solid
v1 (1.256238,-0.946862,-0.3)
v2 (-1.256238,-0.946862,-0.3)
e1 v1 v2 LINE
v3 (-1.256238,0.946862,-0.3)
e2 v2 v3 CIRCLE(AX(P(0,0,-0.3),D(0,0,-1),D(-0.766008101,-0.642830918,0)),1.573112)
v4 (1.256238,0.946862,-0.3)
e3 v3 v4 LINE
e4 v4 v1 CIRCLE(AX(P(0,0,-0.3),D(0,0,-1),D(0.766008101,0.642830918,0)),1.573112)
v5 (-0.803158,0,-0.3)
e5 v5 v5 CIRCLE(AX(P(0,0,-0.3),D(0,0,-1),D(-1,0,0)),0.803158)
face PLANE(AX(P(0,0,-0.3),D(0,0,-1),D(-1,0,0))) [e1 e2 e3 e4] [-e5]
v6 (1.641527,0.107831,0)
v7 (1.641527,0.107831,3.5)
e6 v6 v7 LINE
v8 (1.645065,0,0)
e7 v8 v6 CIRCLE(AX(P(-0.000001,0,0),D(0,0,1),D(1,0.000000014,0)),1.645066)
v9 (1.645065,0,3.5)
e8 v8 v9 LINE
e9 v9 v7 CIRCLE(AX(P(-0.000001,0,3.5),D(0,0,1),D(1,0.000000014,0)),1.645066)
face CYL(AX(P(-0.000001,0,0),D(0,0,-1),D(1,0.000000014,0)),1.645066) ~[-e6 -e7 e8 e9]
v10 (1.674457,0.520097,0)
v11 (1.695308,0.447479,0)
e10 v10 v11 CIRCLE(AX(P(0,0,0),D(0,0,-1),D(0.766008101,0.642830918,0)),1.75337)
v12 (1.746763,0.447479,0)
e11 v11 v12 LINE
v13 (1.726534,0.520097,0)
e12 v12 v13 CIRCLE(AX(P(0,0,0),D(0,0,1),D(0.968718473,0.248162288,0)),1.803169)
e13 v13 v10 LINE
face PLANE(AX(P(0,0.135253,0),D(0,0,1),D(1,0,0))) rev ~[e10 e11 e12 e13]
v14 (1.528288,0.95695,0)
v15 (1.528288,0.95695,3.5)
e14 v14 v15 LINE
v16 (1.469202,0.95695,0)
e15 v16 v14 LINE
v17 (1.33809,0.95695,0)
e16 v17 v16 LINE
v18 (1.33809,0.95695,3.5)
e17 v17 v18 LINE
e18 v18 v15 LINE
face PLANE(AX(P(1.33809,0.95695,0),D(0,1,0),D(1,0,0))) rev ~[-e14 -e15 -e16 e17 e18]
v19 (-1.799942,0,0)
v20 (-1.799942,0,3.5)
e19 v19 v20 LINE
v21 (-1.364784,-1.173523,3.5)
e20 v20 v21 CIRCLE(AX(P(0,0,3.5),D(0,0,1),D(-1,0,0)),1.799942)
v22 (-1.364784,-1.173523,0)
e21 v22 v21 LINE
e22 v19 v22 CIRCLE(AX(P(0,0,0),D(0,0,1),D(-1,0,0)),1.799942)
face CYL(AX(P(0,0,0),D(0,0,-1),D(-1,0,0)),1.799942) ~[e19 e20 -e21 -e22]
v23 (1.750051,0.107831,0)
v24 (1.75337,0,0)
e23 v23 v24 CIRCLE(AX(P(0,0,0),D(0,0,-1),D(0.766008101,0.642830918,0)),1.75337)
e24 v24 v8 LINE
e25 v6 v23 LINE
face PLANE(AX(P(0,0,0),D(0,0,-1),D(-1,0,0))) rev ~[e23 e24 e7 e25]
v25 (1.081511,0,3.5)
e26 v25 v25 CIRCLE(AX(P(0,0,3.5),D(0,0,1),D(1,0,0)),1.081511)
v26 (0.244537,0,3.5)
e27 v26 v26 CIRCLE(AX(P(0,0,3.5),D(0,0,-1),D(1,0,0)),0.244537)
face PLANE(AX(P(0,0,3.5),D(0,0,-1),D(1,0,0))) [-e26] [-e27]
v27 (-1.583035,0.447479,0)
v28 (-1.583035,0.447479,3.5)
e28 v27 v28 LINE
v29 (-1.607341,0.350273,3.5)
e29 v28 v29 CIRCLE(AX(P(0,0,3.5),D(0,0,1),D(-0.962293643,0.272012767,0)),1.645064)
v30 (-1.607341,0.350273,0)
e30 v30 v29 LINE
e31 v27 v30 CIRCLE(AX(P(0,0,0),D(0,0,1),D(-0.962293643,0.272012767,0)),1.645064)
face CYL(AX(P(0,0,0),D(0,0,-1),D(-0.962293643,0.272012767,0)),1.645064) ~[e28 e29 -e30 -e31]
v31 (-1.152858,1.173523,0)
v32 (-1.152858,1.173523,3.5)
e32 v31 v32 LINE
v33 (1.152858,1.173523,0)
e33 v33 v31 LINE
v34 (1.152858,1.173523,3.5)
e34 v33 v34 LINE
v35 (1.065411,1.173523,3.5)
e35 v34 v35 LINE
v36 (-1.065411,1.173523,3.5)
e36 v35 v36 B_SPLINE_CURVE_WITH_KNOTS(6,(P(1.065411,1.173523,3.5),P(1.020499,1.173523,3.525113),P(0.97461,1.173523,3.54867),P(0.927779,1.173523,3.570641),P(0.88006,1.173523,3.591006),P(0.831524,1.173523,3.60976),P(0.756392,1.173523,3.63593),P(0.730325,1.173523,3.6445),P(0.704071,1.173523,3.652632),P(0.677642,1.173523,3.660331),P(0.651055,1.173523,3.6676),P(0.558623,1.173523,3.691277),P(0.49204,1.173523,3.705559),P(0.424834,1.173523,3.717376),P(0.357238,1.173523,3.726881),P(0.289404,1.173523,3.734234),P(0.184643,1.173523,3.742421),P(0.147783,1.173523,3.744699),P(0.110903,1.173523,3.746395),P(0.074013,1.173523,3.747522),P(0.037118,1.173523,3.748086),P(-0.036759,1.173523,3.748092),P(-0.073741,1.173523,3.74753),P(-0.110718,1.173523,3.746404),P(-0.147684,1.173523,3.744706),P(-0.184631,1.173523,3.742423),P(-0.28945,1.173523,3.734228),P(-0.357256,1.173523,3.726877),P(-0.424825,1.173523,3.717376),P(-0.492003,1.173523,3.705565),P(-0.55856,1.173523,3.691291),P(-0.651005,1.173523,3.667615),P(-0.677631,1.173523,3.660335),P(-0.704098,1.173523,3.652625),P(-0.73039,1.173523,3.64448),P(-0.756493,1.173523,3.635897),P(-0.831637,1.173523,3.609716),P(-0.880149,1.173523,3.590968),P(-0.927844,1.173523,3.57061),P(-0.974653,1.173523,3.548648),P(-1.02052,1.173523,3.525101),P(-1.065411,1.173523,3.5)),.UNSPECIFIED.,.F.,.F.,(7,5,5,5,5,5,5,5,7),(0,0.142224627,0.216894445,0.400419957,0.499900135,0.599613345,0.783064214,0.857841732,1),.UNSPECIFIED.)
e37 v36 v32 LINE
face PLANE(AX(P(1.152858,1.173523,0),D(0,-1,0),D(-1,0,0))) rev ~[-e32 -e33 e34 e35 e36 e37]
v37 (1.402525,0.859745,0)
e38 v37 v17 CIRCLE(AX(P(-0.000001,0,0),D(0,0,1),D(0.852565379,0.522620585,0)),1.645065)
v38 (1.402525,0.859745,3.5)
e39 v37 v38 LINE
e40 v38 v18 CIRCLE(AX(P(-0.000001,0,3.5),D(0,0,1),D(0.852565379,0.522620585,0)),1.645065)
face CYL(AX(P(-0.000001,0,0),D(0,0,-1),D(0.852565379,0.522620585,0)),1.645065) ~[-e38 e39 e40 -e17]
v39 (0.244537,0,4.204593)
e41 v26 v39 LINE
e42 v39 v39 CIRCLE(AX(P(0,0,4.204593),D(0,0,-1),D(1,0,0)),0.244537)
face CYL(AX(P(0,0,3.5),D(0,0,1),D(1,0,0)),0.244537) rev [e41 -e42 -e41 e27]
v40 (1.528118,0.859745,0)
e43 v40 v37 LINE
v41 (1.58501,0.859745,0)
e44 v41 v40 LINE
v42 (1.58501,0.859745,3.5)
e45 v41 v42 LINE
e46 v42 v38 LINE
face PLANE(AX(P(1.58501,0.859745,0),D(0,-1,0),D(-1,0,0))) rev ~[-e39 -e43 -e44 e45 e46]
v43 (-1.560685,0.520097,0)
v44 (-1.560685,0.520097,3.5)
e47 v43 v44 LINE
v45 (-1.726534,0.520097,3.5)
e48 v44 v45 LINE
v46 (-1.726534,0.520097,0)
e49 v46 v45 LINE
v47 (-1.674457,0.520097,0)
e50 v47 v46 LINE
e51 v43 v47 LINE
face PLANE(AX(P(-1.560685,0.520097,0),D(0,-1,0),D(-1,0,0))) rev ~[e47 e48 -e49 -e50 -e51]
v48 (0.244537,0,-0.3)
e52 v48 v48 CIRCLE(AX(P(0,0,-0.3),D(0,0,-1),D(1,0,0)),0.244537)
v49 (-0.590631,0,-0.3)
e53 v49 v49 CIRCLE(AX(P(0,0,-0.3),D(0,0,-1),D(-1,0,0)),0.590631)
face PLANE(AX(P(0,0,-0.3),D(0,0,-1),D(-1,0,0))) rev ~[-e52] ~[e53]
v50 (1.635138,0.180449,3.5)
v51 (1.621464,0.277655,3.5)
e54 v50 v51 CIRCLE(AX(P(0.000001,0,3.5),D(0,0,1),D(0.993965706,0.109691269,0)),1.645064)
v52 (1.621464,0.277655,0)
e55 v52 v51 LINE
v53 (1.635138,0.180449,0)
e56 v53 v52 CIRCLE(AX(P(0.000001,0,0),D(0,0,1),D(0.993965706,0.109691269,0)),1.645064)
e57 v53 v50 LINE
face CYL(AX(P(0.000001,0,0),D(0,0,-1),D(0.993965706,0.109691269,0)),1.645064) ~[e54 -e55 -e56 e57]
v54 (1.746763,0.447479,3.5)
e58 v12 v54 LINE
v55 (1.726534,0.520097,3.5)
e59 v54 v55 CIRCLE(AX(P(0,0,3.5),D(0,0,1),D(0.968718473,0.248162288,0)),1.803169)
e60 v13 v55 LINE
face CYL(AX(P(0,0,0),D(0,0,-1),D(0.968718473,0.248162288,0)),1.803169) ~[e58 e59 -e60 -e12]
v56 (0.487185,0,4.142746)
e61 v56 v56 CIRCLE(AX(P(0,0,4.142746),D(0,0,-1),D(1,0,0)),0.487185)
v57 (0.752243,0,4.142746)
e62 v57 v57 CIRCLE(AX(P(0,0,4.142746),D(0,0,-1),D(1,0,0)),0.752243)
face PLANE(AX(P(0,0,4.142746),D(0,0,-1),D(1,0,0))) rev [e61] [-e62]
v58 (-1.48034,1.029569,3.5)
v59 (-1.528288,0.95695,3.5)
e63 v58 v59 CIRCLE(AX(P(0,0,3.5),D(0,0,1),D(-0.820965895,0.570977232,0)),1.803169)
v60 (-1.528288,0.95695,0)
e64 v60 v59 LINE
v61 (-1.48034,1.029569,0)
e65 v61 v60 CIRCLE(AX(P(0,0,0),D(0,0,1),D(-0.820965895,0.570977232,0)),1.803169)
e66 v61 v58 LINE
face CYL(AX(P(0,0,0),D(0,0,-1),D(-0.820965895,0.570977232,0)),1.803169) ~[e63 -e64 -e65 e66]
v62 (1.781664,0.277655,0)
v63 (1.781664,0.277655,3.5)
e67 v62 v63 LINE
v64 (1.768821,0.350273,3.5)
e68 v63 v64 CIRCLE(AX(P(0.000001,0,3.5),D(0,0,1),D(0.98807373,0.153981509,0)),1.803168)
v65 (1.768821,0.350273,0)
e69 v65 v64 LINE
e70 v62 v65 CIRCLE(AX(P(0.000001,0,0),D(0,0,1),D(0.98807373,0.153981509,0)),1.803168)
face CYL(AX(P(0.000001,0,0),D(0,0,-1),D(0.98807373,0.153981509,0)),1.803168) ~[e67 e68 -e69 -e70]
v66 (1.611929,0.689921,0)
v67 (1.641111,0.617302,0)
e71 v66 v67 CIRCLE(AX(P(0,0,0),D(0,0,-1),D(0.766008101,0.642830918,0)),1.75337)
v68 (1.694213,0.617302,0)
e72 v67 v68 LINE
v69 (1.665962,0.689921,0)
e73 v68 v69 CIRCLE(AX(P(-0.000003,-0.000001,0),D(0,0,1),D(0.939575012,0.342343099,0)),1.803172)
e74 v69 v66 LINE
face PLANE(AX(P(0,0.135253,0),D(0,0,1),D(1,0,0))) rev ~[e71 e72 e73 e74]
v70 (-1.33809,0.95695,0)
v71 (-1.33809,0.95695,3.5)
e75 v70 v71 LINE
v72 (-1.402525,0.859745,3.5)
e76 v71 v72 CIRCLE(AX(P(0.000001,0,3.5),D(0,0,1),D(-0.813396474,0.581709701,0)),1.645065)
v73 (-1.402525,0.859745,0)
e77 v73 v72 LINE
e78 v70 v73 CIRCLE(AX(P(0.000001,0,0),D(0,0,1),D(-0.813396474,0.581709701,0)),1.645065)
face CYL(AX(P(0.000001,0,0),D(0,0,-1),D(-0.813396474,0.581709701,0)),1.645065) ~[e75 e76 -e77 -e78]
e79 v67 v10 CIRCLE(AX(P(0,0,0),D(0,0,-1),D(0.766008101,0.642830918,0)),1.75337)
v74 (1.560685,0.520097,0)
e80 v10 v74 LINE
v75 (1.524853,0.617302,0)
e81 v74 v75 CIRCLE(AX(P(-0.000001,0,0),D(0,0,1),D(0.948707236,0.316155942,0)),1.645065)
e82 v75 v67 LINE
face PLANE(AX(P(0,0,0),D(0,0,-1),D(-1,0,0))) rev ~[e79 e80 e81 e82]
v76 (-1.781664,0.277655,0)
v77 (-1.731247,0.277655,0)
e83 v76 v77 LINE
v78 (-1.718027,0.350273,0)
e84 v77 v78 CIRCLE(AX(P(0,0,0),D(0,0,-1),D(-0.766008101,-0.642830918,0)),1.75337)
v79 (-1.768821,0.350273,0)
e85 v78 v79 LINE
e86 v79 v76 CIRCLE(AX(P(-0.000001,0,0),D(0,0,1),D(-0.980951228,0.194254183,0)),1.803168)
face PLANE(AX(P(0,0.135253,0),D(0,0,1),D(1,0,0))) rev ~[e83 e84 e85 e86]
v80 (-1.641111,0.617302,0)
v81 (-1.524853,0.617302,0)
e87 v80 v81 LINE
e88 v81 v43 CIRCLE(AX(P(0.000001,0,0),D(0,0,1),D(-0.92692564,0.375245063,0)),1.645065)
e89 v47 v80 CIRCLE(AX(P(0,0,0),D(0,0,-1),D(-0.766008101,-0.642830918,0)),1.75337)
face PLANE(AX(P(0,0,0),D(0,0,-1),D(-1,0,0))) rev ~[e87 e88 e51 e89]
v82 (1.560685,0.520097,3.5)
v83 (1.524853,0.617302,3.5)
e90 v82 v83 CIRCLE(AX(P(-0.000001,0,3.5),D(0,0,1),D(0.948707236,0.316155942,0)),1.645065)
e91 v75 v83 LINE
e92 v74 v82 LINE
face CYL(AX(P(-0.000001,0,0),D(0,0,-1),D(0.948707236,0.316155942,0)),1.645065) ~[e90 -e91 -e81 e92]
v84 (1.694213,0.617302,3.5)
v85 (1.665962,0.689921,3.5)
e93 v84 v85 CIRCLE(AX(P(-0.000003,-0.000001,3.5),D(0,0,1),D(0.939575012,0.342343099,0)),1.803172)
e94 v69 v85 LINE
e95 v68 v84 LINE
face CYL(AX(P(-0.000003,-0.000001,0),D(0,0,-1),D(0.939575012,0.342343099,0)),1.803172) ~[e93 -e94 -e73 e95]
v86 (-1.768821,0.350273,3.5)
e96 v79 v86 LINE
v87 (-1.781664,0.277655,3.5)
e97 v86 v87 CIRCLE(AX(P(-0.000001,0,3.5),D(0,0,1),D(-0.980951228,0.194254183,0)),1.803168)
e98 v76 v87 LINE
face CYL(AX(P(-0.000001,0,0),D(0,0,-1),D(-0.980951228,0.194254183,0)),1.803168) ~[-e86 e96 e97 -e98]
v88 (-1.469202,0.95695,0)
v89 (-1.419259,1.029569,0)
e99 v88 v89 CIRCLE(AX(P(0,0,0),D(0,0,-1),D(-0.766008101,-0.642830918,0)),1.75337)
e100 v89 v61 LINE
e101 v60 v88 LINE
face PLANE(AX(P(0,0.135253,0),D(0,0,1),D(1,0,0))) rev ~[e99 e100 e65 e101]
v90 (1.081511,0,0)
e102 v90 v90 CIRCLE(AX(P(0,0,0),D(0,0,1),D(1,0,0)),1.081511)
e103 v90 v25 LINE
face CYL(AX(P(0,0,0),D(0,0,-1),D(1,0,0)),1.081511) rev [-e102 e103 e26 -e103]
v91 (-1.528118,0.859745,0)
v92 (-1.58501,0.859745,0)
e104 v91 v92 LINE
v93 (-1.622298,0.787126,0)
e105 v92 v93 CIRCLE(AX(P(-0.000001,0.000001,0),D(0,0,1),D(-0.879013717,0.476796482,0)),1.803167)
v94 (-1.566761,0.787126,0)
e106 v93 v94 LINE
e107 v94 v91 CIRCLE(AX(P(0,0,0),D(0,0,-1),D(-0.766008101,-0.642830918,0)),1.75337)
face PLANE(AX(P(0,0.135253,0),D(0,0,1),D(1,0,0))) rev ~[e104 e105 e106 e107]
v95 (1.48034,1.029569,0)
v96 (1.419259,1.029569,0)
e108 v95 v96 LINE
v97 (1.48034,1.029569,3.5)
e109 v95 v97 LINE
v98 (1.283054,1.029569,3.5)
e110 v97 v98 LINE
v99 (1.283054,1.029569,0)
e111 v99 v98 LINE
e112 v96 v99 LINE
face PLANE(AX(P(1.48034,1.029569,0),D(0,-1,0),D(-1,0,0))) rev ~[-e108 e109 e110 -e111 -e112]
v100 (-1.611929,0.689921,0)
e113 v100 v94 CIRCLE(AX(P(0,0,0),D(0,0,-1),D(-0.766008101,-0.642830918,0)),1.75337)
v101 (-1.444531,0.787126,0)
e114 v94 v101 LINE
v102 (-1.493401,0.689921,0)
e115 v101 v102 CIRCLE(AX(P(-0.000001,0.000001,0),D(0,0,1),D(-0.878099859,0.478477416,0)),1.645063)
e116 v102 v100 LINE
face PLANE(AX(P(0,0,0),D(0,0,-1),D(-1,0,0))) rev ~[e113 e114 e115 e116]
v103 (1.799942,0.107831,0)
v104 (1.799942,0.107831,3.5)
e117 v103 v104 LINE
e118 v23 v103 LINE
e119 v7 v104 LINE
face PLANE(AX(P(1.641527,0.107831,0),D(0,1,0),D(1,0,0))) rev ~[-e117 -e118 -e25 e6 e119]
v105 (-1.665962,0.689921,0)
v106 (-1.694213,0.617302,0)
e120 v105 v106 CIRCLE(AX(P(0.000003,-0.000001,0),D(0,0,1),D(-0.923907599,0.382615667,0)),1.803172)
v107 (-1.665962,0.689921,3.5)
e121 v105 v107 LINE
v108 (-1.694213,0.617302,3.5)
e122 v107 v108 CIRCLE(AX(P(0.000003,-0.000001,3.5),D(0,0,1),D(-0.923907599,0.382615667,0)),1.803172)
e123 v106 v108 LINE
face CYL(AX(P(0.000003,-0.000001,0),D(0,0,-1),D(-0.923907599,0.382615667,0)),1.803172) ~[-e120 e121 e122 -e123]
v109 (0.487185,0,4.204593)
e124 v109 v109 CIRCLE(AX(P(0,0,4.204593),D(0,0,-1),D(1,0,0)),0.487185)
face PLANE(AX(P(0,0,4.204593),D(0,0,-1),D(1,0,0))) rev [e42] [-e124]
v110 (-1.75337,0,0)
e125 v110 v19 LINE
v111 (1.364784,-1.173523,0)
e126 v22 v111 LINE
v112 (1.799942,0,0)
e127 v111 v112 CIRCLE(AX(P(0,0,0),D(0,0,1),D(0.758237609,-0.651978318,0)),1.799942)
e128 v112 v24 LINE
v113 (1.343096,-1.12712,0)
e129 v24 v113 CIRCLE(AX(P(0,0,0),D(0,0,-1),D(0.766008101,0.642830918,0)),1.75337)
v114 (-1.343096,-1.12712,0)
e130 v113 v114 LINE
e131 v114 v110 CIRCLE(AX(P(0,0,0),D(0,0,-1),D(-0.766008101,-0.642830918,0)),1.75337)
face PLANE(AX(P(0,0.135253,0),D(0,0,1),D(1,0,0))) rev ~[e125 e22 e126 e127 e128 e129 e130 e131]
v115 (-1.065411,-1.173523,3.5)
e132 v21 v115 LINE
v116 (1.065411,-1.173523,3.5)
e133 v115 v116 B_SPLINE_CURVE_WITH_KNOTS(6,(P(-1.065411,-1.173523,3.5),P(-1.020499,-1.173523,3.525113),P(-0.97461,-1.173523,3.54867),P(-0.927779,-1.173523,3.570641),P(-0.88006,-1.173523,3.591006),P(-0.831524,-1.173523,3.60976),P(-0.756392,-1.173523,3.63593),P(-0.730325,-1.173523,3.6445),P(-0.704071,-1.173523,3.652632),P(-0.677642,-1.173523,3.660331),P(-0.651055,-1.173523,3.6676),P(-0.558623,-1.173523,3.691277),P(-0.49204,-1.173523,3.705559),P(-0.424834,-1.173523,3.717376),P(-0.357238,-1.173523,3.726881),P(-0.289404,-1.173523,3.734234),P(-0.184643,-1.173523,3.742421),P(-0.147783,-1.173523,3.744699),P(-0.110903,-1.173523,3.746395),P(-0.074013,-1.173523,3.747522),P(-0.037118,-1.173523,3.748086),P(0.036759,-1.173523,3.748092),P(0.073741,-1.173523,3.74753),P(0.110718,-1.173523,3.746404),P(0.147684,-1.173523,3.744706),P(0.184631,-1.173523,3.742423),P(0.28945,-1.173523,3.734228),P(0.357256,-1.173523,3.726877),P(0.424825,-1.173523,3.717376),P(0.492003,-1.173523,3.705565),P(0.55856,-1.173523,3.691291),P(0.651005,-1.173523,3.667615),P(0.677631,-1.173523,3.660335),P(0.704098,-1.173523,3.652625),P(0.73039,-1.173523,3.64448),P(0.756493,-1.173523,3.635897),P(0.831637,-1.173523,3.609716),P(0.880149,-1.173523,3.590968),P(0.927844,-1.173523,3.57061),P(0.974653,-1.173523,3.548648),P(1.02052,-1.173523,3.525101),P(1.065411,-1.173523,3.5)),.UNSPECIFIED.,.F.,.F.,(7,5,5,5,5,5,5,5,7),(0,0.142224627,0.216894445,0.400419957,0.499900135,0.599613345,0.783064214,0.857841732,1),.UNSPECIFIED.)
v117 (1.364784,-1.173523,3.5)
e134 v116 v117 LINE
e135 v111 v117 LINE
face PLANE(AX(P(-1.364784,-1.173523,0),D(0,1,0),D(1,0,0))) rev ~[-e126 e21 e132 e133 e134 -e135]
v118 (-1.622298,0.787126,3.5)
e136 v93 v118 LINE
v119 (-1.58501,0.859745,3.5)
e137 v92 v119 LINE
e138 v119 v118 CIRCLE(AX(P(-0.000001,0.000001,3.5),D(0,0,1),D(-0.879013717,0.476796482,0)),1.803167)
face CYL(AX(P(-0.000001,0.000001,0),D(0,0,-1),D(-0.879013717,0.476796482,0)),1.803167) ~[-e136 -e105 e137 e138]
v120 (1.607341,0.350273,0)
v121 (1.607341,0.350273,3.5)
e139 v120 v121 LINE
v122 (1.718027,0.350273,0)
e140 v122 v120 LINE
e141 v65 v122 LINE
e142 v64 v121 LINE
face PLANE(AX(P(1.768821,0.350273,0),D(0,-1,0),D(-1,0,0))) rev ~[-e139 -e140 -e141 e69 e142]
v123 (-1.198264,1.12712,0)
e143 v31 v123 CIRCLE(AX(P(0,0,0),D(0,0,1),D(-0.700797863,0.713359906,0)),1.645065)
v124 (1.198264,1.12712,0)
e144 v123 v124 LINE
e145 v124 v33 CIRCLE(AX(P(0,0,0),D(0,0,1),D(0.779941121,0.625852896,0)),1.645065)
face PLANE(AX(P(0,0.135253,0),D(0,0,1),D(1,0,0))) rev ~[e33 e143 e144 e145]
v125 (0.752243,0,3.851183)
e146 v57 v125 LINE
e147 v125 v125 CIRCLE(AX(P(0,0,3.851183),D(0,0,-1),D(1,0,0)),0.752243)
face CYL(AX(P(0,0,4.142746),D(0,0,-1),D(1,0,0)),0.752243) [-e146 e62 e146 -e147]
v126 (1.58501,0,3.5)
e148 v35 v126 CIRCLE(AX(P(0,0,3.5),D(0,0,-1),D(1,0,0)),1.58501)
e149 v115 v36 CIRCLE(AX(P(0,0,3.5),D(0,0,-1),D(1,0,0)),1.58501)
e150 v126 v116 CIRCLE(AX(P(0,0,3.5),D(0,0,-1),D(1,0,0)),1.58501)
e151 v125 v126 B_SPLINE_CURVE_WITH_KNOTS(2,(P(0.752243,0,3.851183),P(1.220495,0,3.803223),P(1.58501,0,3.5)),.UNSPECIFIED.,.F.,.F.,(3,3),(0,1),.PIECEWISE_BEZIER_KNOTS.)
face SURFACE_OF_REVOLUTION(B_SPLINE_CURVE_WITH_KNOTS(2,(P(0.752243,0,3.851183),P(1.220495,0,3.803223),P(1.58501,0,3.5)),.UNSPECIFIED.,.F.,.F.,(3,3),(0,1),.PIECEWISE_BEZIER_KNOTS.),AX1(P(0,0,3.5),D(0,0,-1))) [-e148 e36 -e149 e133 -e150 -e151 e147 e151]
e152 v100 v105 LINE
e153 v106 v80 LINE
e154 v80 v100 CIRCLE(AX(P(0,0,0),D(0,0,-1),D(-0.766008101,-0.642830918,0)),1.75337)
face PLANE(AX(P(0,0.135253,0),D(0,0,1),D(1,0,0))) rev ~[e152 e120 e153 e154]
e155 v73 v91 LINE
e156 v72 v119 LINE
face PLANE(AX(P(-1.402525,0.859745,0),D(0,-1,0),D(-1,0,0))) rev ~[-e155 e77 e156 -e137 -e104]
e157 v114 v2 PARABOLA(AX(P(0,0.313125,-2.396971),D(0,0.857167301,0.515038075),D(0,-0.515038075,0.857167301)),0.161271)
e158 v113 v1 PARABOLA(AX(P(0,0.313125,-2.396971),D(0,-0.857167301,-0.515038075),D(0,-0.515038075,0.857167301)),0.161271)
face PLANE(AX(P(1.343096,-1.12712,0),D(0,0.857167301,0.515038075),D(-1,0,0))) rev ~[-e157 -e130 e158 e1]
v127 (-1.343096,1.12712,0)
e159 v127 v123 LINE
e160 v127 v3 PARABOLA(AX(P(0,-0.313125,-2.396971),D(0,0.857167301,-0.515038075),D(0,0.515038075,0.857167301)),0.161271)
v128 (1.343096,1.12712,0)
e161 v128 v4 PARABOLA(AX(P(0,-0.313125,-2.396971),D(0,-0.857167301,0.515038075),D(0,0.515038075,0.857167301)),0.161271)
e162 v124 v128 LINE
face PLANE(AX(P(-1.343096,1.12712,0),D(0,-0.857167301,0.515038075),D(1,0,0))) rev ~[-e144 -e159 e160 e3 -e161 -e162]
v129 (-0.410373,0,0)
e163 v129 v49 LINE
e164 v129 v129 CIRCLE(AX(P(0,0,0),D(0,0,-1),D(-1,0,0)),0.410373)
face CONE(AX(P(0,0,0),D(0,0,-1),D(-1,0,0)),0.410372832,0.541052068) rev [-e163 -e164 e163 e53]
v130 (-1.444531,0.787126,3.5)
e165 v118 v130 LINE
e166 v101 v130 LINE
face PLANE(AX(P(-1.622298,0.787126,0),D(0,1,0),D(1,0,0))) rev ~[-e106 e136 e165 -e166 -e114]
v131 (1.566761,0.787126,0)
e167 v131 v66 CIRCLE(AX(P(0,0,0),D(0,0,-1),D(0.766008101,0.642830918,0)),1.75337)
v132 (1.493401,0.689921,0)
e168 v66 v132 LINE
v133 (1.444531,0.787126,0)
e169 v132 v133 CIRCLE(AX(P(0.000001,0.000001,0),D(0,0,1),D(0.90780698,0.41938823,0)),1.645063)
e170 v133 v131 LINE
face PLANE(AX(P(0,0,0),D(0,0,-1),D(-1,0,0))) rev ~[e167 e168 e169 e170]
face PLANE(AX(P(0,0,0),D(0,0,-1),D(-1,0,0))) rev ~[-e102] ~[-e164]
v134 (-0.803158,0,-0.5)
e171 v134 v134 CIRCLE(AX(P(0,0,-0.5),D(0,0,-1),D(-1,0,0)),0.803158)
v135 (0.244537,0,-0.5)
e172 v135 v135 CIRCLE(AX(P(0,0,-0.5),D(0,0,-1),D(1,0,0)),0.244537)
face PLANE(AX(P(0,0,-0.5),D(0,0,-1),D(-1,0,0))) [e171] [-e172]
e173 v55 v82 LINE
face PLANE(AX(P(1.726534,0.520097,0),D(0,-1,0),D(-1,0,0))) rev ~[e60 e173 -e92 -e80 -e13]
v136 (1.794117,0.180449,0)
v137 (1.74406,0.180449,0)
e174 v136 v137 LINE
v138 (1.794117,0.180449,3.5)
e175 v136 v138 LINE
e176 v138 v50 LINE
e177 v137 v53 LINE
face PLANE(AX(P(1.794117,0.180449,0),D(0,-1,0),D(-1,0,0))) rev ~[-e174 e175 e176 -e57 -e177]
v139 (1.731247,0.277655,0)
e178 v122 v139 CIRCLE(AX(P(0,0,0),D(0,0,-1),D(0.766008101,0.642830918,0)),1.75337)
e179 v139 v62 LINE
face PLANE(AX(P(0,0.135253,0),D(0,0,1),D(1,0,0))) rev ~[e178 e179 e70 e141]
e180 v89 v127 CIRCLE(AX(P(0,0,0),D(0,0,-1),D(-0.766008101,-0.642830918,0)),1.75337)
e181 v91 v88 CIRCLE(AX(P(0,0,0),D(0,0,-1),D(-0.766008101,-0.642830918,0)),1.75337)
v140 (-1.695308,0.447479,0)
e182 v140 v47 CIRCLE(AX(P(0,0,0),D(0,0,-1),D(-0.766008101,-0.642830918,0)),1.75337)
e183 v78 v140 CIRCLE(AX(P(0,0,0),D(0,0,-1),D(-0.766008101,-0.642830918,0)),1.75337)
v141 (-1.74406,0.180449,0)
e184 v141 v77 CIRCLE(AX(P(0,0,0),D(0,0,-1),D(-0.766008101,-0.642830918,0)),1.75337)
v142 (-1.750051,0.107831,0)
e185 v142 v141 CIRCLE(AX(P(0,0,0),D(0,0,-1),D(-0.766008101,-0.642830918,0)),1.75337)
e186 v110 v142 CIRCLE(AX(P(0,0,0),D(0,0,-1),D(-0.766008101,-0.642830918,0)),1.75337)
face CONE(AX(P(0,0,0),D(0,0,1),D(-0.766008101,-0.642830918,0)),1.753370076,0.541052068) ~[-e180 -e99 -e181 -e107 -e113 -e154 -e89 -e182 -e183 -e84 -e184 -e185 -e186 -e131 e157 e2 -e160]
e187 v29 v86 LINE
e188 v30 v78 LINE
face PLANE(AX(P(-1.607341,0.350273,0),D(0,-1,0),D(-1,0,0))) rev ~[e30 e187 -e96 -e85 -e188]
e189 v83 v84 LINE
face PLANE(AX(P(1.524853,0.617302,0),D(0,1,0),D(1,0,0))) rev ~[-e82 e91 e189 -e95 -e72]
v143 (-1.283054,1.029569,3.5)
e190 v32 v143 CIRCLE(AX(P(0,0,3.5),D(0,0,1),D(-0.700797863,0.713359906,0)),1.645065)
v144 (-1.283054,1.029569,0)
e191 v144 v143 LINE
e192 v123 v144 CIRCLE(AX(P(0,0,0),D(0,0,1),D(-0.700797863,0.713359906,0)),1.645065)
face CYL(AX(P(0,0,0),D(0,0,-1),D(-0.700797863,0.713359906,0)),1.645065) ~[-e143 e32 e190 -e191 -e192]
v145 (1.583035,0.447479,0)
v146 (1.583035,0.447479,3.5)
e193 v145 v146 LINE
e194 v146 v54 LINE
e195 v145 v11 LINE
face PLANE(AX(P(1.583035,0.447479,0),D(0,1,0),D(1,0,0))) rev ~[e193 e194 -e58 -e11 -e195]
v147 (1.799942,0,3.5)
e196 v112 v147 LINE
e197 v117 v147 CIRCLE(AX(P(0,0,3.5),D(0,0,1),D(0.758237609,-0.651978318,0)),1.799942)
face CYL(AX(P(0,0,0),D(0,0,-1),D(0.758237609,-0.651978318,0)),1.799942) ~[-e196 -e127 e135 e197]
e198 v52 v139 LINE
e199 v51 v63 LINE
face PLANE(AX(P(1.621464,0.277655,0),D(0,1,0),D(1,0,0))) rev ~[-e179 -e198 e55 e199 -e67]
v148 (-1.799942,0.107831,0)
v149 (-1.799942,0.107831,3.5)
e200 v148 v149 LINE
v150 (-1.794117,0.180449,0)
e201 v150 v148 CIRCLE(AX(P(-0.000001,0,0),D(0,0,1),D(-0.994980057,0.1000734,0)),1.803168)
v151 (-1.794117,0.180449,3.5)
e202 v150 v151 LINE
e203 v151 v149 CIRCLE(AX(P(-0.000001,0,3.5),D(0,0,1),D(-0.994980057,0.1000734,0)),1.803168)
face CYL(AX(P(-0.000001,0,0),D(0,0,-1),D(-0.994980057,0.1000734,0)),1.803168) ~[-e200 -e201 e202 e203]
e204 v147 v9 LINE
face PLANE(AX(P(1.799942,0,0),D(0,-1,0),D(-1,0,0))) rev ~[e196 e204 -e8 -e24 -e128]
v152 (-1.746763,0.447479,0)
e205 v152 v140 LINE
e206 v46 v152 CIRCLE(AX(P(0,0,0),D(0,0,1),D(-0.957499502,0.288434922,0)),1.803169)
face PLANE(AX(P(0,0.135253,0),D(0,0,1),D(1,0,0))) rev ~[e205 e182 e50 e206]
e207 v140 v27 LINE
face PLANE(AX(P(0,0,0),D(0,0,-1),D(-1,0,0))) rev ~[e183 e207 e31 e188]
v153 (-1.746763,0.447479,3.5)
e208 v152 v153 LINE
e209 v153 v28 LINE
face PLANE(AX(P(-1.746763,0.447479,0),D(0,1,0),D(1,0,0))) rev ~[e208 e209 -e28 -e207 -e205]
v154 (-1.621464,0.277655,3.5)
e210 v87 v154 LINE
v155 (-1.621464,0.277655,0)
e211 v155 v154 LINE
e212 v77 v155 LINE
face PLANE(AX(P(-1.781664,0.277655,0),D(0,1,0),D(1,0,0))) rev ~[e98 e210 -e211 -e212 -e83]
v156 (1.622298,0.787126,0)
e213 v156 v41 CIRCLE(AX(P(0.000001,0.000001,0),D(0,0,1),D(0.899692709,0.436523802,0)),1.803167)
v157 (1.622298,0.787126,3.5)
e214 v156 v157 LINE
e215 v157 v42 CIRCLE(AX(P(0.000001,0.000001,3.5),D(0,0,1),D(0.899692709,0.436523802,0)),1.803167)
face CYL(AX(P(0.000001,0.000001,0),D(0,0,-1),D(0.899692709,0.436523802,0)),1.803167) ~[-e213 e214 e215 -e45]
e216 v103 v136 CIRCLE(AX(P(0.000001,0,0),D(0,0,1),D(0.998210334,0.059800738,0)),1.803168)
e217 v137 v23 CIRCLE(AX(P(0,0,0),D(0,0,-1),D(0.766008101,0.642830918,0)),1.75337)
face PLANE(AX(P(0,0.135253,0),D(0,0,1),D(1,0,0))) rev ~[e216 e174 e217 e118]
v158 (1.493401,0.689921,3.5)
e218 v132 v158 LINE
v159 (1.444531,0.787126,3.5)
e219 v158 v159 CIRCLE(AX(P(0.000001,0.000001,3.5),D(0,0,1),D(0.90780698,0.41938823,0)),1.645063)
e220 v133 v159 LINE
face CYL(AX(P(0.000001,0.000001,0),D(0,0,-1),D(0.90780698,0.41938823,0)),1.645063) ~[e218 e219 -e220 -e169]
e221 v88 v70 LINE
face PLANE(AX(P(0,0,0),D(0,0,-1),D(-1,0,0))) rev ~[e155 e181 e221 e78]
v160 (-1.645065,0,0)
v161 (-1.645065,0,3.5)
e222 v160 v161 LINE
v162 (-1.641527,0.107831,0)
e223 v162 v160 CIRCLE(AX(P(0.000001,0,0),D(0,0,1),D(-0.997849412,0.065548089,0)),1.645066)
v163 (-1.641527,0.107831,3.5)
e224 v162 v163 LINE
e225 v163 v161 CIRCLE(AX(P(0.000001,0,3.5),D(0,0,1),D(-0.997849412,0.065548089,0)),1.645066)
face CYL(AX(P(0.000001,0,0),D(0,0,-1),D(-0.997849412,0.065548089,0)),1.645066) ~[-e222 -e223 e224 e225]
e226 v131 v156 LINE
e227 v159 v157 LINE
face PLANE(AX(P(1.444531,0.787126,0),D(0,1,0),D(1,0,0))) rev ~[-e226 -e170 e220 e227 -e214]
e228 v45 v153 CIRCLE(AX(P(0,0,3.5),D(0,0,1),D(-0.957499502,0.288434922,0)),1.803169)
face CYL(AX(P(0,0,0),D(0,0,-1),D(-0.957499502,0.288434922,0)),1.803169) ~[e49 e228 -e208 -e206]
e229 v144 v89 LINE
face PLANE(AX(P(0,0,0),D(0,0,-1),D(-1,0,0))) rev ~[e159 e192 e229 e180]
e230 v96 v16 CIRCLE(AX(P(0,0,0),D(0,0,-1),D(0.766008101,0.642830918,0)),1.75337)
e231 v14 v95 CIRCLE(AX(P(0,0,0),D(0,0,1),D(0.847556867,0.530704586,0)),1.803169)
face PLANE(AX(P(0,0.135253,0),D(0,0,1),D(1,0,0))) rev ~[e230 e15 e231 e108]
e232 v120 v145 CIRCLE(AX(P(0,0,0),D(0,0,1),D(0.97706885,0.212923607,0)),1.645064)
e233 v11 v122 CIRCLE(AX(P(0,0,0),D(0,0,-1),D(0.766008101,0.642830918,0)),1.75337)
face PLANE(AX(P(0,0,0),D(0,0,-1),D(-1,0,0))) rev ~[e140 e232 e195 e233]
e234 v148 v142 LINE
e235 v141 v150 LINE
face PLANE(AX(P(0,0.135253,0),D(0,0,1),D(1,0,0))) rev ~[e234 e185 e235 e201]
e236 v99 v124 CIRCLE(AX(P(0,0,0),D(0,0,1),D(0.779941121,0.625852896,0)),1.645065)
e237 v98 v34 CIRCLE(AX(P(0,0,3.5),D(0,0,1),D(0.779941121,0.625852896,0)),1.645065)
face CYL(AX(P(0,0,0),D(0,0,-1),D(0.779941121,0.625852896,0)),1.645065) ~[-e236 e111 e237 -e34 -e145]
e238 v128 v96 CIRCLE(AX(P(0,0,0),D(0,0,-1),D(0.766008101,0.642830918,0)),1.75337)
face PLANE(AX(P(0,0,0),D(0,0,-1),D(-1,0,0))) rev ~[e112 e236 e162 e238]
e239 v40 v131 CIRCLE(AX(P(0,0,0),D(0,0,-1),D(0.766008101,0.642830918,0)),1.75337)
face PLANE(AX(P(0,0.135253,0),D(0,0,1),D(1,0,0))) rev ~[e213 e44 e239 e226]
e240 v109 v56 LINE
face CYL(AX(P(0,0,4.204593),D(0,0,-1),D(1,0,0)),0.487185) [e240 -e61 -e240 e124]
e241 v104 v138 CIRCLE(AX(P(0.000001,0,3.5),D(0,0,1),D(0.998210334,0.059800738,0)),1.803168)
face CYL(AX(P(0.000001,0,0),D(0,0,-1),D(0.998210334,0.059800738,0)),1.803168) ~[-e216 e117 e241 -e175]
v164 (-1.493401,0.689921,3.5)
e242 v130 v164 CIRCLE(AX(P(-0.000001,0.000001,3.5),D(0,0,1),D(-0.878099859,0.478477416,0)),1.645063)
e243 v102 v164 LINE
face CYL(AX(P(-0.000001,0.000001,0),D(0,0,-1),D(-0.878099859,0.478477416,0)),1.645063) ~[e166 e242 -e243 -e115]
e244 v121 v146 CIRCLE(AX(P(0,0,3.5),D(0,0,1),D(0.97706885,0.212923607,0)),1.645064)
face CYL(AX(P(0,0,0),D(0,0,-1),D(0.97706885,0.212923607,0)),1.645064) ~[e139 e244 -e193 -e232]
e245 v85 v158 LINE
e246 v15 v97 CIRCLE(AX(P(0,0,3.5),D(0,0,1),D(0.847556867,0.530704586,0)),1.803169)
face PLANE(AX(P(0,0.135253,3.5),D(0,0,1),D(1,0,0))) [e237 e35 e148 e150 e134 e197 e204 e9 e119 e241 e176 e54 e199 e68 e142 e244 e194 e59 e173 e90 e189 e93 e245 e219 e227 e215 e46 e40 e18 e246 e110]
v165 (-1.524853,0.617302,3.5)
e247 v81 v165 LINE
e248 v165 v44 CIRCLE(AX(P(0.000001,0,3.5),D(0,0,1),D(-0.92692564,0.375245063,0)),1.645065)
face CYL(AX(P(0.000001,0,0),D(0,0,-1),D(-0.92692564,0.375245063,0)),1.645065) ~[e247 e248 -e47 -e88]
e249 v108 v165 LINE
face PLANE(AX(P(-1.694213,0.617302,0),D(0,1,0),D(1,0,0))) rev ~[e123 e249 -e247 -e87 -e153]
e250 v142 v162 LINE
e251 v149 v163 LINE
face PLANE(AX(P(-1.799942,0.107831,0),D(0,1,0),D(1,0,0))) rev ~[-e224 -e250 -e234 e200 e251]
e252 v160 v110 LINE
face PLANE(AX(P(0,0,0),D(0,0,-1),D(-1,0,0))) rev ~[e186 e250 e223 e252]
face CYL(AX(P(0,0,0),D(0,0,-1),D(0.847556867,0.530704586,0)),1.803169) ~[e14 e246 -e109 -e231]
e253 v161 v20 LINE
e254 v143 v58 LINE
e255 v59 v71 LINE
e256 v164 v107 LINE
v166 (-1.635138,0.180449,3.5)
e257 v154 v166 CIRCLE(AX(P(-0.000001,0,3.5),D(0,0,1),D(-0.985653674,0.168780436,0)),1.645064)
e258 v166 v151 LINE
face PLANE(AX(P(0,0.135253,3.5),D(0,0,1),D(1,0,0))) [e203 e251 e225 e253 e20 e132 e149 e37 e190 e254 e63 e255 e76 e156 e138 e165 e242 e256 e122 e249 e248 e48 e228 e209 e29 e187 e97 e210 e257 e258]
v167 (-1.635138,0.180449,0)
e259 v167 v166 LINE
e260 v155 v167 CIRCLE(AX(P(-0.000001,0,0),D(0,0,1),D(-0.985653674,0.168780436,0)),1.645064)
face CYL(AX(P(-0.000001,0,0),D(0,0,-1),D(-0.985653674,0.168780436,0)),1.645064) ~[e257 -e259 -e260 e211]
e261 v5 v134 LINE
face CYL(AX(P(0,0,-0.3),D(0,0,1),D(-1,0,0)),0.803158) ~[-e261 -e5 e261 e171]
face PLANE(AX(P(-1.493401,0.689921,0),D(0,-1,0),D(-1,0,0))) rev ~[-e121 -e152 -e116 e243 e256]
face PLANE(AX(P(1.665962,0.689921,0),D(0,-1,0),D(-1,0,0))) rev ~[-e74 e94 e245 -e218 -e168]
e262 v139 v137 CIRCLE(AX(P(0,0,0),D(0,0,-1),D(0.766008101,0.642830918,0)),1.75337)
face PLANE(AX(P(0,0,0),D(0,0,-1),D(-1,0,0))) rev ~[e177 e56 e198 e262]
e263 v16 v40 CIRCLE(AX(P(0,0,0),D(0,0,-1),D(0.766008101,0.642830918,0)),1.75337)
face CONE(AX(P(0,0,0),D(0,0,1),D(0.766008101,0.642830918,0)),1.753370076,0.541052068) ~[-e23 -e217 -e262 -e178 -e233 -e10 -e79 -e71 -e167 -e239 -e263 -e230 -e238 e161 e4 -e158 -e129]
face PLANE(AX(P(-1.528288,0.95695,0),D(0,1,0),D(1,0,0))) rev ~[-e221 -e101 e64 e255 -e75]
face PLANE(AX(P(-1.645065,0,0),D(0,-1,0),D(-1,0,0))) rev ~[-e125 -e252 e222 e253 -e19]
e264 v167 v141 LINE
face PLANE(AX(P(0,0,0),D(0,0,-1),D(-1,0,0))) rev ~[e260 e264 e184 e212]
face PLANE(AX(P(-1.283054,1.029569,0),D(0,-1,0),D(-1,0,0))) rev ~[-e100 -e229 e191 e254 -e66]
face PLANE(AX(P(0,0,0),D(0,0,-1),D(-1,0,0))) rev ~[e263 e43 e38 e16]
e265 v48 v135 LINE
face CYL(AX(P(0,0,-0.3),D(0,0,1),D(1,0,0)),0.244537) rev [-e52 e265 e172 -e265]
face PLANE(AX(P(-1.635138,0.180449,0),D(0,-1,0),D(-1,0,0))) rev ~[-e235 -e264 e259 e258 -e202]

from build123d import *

# Parameters (mm, degrees)
ESQUISSE1_R             = 1.081511131
BOSS_EXTRU_1_DEPTH      = 3.5
ESQUISSE3_R             = 0.410372832
BOSS_EXTRU_2_DEPTH      = 0.3
BOSS_EXTRU_2_DRAFT      = 31
ESQUISSE4_W             = 2.396874893
ESQUISSE4_H             = 0.634189101
ESQUISSE4_W_2           = 2.754584076
ESQUISSE4_H_2           = 0.575875801
ENL_V_MAT_EXTRU_1_DEPTH = 10.3
ESQUISSE5_R             = 0.803157719
ESQUISSE5_R_2           = 0.244537362
BOSS_EXTRU_3_DEPTH      = 0.2


with BuildPart() as part:
    # Esquisse1 → Boss.-Extru.1 (new body)
    with BuildSketch(Plane.XY):
        with BuildLine():
            ThreePointArc((1.283053605, 1.029568507), (1.22008068, 1.103467715), (1.152857828, 1.173523196))
            Line((1.152857828, 1.173523196), (-1.152857828, 1.173523196))
            ThreePointArc((-1.152857828, 1.173523196), (-1.22008068, 1.103467715), (-1.283053605, 1.029568507))
            Line((-1.283053605, 1.029568507), (-1.480340364, 1.029568507))
            ThreePointArc((-1.480340364, 1.029568507), (-1.5047525, 0.993548599), (-1.528288379, 0.956950122))
            Line((-1.528288379, 0.956950122), (-1.338089806, 0.956950122))
            ThreePointArc((-1.338089806, 0.956950122), (-1.371169173, 0.908918567), (-1.402525217, 0.859744659))
            Line((-1.402525217, 0.859744659), (-1.585010418, 0.859744659))
            ThreePointArc((-1.585010418, 0.859744659), (-1.604065256, 0.823646502), (-1.622298103, 0.787126273))
            Line((-1.622298103, 0.787126273), (-1.444531098, 0.787126273))
            ThreePointArc((-1.444531098, 0.787126273), (-1.469769972, 0.738927665), (-1.493401198, 0.68992081))
            Line((-1.493401198, 0.68992081), (-1.665961638, 0.68992081))
            ThreePointArc((-1.665961638, 0.68992081), (-1.680479463, 0.653764236), (-1.694212685, 0.617302425))
            Line((-1.694212685, 0.617302425), (-1.524852642, 0.617302425))
            ThreePointArc((-1.524852642, 0.617302425), (-1.543534106, 0.568981833), (-1.56068479, 0.520096962))
            Line((-1.56068479, 0.520096962), (-1.726533537, 0.520096962))
            ThreePointArc((-1.726533537, 0.520096962), (-1.737027918, 0.483893496), (-1.746763243, 0.447478576))
            Line((-1.746763243, 0.447478576), (-1.583035308, 0.447478576))
            ThreePointArc((-1.583035308, 0.447478576), (-1.595928641, 0.399060944), (-1.607341473, 0.350273113))
            Line((-1.607341473, 0.350273113), (-1.768820977, 0.350273113))
            ThreePointArc((-1.768820977, 0.350273113), (-1.775613788, 0.314029584), (-1.781664041, 0.277654728))
            Line((-1.781664041, 0.277654728), (-1.621464066, 0.277654728))
            ThreePointArc((-1.621464066, 0.277654728), (-1.629026183, 0.22915401), (-1.635137892, 0.180449265))
            Line((-1.635137892, 0.180449265), (-1.794117323, 0.180449265))
            ThreePointArc((-1.794117323, 0.180449265), (-1.797396468, 0.144169491), (-1.799942056, 0.107830879))
            Line((-1.799942056, 0.107830879), (-1.64152684, 0.107830879))
            ThreePointArc((-1.64152684, 0.107830879), (-1.644179996, 0.05394445), (-1.645064699, 0))
            Line((-1.645064699, 0), (-1.799942056, 0))
            ThreePointArc((-1.799942056, 0), (-1.687649711, -0.62580337), (-1.364783761, -1.173523196))
            Line((-1.364783761, -1.173523196), (-1.152857828, -1.173523196))
            Line((-1.152857828, -1.173523196), (0, -1.173523196))
            Line((0, -1.173523196), (1.152857828, -1.173523196))
            Line((1.152857828, -1.173523196), (1.364783761, -1.173523196))
            ThreePointArc((1.364783761, -1.173523196), (1.687649711, -0.62580337), (1.799942056, 0))
            Line((1.799942056, 0), (1.645064699, 0))
            ThreePointArc((1.645064699, 0), (1.644179996, 0.05394445), (1.64152684, 0.107830879))
            Line((1.64152684, 0.107830879), (1.799942056, 0.107830879))
            ThreePointArc((1.799942056, 0.107830879), (1.797396468, 0.144169491), (1.794117323, 0.180449265))
            Line((1.794117323, 0.180449265), (1.635137892, 0.180449265))
            ThreePointArc((1.635137892, 0.180449265), (1.629026183, 0.22915401), (1.621464066, 0.277654728))
            Line((1.621464066, 0.277654728), (1.781664041, 0.277654728))
            ThreePointArc((1.781664041, 0.277654728), (1.775613788, 0.314029584), (1.768820977, 0.350273113))
            Line((1.768820977, 0.350273113), (1.607341473, 0.350273113))
            ThreePointArc((1.607341473, 0.350273113), (1.595928641, 0.399060944), (1.583035308, 0.447478576))
            Line((1.583035308, 0.447478576), (1.746763243, 0.447478576))
            ThreePointArc((1.746763243, 0.447478576), (1.737027918, 0.483893496), (1.726533537, 0.520096962))
            Line((1.726533537, 0.520096962), (1.56068479, 0.520096962))
            ThreePointArc((1.56068479, 0.520096962), (1.543534106, 0.568981833), (1.524852642, 0.617302425))
            Line((1.524852642, 0.617302425), (1.694212685, 0.617302425))
            ThreePointArc((1.694212685, 0.617302425), (1.680479463, 0.653764236), (1.665961638, 0.68992081))
            Line((1.665961638, 0.68992081), (1.493401198, 0.68992081))
            ThreePointArc((1.493401198, 0.68992081), (1.469769972, 0.738927665), (1.444531098, 0.787126273))
            Line((1.444531098, 0.787126273), (1.622298103, 0.787126273))
            ThreePointArc((1.622298103, 0.787126273), (1.604065256, 0.823646502), (1.585010418, 0.859744659))
            Line((1.585010418, 0.859744659), (1.402525217, 0.859744659))
            ThreePointArc((1.402525217, 0.859744659), (1.371169173, 0.908918567), (1.338089806, 0.956950122))
            Line((1.338089806, 0.956950122), (1.528288379, 0.956950122))
            ThreePointArc((1.528288379, 0.956950122), (1.5047525, 0.993548599), (1.480340364, 1.029568507))
            Line((1.480340364, 1.029568507), (1.283053605, 1.029568507))
        make_face()
        Circle(ESQUISSE1_R, mode=Mode.SUBTRACT)
    extrude(amount=BOSS_EXTRU_1_DEPTH)

    # Esquisse2 → Révolution1 (revolve)
    with BuildSketch(Plane(origin=(0, 0, 0), x_dir=(1, 0, 0), z_dir=(0, 1, 0))):
        with BuildLine():
            Line((1.585010418, -3.5), (0.244537362, -3.5))
            Line((0.244537362, -3.5), (0.244537362, -4.204593095))
            Line((0.244537362, -4.204593095), (0.487185346, -4.204593095))
            Line((0.487185346, -4.204593095), (0.487185346, -4.142746313))
            Line((0.487185346, -4.142746313), (0.752242982, -4.142746313))
            Line((0.752242982, -4.142746313), (0.752242982, -3.851182914))
            add(Edge.make_bspline(
                [(0.752242982, -3.851182914), (1.220495176, -3.803222811), (1.585010418, -3.5)],
                knots=[0, 0, 0, 1, 1, 1], degree=2))
        make_face()
    revolve(axis=Axis((0, 0, 3.5), (0, 0, -1)))


with BuildPart() as boss_extru_2_tool:
    # Esquisse3 → Boss.-Extru.2 (with draft: the straight prism first)
    with BuildSketch(Plane(origin=(0, 0, 0), x_dir=(-1, 0, 0), z_dir=(0, 0, -1))):
        with BuildLine():
            ThreePointArc((-1.343095681, 1.127120496), (-1.753370075, 0), (-1.343095681, -1.127120496))
            Line((-1.343095681, -1.127120496), (1.343095681, -1.127120496))
            ThreePointArc((1.343095681, -1.127120496), (1.753370075, 0), (1.343095681, 1.127120496))
            Line((1.343095681, 1.127120496), (-1.343095681, 1.127120496))
        make_face()
        Circle(ESQUISSE3_R, mode=Mode.SUBTRACT)
    extrude(amount=BOSS_EXTRU_2_DEPTH)
    # Boss.-Extru.2: the draft: its side faces are tilted about the plane it starts from
    boss_extru_2_sides = [boss_extru_2_tool.faces().sort_by_distance(p)[0] for p in [
        (1.753370075, 0, -0.15),
        (0, -1.127120496, -0.15),
        (-1.753370075, 0, -0.15),
        (0, 1.127120496, -0.15),
        (0.410372832, 0, -0.15),
    ]]
    draft(boss_extru_2_sides, Plane(origin=(0, 0, 0), x_dir=(-1, 0, 0), z_dir=(0, 0, -1)), BOSS_EXTRU_2_DRAFT)


with BuildPart() as part_1:
    add(part.part)

    # Boss.-Extru.2: add boss_extru_2_tool
    add(boss_extru_2_tool.part)

    # Esquisse4 → Enlèv. mat.-Extru.1 (cut)
    with BuildSketch(Plane(origin=(0, 0, -0.3), x_dir=(-1, 0, 0), z_dir=(0, 0, -1))):
        with Locations((0.045579618, 1.490617747)):
            Rectangle(ESQUISSE4_W, ESQUISSE4_H)
        with Locations((0.012508277, -1.461461097)):
            Rectangle(ESQUISSE4_W_2, ESQUISSE4_H_2)
    extrude(amount=-ENL_V_MAT_EXTRU_1_DEPTH, mode=Mode.SUBTRACT)

    # Esquisse5 → Boss.-Extru.3 (add)
    with BuildSketch(Plane(origin=(0, 0, -0.3), x_dir=(-1, 0, 0), z_dir=(0, 0, -1))):
        Circle(ESQUISSE5_R)
        with Locations(Location((0, 0, 0), (0, 0, 180))):
            Circle(ESQUISSE5_R_2, mode=Mode.SUBTRACT)
    extrude(amount=BOSS_EXTRU_3_DEPTH)


solid = part_1.part
